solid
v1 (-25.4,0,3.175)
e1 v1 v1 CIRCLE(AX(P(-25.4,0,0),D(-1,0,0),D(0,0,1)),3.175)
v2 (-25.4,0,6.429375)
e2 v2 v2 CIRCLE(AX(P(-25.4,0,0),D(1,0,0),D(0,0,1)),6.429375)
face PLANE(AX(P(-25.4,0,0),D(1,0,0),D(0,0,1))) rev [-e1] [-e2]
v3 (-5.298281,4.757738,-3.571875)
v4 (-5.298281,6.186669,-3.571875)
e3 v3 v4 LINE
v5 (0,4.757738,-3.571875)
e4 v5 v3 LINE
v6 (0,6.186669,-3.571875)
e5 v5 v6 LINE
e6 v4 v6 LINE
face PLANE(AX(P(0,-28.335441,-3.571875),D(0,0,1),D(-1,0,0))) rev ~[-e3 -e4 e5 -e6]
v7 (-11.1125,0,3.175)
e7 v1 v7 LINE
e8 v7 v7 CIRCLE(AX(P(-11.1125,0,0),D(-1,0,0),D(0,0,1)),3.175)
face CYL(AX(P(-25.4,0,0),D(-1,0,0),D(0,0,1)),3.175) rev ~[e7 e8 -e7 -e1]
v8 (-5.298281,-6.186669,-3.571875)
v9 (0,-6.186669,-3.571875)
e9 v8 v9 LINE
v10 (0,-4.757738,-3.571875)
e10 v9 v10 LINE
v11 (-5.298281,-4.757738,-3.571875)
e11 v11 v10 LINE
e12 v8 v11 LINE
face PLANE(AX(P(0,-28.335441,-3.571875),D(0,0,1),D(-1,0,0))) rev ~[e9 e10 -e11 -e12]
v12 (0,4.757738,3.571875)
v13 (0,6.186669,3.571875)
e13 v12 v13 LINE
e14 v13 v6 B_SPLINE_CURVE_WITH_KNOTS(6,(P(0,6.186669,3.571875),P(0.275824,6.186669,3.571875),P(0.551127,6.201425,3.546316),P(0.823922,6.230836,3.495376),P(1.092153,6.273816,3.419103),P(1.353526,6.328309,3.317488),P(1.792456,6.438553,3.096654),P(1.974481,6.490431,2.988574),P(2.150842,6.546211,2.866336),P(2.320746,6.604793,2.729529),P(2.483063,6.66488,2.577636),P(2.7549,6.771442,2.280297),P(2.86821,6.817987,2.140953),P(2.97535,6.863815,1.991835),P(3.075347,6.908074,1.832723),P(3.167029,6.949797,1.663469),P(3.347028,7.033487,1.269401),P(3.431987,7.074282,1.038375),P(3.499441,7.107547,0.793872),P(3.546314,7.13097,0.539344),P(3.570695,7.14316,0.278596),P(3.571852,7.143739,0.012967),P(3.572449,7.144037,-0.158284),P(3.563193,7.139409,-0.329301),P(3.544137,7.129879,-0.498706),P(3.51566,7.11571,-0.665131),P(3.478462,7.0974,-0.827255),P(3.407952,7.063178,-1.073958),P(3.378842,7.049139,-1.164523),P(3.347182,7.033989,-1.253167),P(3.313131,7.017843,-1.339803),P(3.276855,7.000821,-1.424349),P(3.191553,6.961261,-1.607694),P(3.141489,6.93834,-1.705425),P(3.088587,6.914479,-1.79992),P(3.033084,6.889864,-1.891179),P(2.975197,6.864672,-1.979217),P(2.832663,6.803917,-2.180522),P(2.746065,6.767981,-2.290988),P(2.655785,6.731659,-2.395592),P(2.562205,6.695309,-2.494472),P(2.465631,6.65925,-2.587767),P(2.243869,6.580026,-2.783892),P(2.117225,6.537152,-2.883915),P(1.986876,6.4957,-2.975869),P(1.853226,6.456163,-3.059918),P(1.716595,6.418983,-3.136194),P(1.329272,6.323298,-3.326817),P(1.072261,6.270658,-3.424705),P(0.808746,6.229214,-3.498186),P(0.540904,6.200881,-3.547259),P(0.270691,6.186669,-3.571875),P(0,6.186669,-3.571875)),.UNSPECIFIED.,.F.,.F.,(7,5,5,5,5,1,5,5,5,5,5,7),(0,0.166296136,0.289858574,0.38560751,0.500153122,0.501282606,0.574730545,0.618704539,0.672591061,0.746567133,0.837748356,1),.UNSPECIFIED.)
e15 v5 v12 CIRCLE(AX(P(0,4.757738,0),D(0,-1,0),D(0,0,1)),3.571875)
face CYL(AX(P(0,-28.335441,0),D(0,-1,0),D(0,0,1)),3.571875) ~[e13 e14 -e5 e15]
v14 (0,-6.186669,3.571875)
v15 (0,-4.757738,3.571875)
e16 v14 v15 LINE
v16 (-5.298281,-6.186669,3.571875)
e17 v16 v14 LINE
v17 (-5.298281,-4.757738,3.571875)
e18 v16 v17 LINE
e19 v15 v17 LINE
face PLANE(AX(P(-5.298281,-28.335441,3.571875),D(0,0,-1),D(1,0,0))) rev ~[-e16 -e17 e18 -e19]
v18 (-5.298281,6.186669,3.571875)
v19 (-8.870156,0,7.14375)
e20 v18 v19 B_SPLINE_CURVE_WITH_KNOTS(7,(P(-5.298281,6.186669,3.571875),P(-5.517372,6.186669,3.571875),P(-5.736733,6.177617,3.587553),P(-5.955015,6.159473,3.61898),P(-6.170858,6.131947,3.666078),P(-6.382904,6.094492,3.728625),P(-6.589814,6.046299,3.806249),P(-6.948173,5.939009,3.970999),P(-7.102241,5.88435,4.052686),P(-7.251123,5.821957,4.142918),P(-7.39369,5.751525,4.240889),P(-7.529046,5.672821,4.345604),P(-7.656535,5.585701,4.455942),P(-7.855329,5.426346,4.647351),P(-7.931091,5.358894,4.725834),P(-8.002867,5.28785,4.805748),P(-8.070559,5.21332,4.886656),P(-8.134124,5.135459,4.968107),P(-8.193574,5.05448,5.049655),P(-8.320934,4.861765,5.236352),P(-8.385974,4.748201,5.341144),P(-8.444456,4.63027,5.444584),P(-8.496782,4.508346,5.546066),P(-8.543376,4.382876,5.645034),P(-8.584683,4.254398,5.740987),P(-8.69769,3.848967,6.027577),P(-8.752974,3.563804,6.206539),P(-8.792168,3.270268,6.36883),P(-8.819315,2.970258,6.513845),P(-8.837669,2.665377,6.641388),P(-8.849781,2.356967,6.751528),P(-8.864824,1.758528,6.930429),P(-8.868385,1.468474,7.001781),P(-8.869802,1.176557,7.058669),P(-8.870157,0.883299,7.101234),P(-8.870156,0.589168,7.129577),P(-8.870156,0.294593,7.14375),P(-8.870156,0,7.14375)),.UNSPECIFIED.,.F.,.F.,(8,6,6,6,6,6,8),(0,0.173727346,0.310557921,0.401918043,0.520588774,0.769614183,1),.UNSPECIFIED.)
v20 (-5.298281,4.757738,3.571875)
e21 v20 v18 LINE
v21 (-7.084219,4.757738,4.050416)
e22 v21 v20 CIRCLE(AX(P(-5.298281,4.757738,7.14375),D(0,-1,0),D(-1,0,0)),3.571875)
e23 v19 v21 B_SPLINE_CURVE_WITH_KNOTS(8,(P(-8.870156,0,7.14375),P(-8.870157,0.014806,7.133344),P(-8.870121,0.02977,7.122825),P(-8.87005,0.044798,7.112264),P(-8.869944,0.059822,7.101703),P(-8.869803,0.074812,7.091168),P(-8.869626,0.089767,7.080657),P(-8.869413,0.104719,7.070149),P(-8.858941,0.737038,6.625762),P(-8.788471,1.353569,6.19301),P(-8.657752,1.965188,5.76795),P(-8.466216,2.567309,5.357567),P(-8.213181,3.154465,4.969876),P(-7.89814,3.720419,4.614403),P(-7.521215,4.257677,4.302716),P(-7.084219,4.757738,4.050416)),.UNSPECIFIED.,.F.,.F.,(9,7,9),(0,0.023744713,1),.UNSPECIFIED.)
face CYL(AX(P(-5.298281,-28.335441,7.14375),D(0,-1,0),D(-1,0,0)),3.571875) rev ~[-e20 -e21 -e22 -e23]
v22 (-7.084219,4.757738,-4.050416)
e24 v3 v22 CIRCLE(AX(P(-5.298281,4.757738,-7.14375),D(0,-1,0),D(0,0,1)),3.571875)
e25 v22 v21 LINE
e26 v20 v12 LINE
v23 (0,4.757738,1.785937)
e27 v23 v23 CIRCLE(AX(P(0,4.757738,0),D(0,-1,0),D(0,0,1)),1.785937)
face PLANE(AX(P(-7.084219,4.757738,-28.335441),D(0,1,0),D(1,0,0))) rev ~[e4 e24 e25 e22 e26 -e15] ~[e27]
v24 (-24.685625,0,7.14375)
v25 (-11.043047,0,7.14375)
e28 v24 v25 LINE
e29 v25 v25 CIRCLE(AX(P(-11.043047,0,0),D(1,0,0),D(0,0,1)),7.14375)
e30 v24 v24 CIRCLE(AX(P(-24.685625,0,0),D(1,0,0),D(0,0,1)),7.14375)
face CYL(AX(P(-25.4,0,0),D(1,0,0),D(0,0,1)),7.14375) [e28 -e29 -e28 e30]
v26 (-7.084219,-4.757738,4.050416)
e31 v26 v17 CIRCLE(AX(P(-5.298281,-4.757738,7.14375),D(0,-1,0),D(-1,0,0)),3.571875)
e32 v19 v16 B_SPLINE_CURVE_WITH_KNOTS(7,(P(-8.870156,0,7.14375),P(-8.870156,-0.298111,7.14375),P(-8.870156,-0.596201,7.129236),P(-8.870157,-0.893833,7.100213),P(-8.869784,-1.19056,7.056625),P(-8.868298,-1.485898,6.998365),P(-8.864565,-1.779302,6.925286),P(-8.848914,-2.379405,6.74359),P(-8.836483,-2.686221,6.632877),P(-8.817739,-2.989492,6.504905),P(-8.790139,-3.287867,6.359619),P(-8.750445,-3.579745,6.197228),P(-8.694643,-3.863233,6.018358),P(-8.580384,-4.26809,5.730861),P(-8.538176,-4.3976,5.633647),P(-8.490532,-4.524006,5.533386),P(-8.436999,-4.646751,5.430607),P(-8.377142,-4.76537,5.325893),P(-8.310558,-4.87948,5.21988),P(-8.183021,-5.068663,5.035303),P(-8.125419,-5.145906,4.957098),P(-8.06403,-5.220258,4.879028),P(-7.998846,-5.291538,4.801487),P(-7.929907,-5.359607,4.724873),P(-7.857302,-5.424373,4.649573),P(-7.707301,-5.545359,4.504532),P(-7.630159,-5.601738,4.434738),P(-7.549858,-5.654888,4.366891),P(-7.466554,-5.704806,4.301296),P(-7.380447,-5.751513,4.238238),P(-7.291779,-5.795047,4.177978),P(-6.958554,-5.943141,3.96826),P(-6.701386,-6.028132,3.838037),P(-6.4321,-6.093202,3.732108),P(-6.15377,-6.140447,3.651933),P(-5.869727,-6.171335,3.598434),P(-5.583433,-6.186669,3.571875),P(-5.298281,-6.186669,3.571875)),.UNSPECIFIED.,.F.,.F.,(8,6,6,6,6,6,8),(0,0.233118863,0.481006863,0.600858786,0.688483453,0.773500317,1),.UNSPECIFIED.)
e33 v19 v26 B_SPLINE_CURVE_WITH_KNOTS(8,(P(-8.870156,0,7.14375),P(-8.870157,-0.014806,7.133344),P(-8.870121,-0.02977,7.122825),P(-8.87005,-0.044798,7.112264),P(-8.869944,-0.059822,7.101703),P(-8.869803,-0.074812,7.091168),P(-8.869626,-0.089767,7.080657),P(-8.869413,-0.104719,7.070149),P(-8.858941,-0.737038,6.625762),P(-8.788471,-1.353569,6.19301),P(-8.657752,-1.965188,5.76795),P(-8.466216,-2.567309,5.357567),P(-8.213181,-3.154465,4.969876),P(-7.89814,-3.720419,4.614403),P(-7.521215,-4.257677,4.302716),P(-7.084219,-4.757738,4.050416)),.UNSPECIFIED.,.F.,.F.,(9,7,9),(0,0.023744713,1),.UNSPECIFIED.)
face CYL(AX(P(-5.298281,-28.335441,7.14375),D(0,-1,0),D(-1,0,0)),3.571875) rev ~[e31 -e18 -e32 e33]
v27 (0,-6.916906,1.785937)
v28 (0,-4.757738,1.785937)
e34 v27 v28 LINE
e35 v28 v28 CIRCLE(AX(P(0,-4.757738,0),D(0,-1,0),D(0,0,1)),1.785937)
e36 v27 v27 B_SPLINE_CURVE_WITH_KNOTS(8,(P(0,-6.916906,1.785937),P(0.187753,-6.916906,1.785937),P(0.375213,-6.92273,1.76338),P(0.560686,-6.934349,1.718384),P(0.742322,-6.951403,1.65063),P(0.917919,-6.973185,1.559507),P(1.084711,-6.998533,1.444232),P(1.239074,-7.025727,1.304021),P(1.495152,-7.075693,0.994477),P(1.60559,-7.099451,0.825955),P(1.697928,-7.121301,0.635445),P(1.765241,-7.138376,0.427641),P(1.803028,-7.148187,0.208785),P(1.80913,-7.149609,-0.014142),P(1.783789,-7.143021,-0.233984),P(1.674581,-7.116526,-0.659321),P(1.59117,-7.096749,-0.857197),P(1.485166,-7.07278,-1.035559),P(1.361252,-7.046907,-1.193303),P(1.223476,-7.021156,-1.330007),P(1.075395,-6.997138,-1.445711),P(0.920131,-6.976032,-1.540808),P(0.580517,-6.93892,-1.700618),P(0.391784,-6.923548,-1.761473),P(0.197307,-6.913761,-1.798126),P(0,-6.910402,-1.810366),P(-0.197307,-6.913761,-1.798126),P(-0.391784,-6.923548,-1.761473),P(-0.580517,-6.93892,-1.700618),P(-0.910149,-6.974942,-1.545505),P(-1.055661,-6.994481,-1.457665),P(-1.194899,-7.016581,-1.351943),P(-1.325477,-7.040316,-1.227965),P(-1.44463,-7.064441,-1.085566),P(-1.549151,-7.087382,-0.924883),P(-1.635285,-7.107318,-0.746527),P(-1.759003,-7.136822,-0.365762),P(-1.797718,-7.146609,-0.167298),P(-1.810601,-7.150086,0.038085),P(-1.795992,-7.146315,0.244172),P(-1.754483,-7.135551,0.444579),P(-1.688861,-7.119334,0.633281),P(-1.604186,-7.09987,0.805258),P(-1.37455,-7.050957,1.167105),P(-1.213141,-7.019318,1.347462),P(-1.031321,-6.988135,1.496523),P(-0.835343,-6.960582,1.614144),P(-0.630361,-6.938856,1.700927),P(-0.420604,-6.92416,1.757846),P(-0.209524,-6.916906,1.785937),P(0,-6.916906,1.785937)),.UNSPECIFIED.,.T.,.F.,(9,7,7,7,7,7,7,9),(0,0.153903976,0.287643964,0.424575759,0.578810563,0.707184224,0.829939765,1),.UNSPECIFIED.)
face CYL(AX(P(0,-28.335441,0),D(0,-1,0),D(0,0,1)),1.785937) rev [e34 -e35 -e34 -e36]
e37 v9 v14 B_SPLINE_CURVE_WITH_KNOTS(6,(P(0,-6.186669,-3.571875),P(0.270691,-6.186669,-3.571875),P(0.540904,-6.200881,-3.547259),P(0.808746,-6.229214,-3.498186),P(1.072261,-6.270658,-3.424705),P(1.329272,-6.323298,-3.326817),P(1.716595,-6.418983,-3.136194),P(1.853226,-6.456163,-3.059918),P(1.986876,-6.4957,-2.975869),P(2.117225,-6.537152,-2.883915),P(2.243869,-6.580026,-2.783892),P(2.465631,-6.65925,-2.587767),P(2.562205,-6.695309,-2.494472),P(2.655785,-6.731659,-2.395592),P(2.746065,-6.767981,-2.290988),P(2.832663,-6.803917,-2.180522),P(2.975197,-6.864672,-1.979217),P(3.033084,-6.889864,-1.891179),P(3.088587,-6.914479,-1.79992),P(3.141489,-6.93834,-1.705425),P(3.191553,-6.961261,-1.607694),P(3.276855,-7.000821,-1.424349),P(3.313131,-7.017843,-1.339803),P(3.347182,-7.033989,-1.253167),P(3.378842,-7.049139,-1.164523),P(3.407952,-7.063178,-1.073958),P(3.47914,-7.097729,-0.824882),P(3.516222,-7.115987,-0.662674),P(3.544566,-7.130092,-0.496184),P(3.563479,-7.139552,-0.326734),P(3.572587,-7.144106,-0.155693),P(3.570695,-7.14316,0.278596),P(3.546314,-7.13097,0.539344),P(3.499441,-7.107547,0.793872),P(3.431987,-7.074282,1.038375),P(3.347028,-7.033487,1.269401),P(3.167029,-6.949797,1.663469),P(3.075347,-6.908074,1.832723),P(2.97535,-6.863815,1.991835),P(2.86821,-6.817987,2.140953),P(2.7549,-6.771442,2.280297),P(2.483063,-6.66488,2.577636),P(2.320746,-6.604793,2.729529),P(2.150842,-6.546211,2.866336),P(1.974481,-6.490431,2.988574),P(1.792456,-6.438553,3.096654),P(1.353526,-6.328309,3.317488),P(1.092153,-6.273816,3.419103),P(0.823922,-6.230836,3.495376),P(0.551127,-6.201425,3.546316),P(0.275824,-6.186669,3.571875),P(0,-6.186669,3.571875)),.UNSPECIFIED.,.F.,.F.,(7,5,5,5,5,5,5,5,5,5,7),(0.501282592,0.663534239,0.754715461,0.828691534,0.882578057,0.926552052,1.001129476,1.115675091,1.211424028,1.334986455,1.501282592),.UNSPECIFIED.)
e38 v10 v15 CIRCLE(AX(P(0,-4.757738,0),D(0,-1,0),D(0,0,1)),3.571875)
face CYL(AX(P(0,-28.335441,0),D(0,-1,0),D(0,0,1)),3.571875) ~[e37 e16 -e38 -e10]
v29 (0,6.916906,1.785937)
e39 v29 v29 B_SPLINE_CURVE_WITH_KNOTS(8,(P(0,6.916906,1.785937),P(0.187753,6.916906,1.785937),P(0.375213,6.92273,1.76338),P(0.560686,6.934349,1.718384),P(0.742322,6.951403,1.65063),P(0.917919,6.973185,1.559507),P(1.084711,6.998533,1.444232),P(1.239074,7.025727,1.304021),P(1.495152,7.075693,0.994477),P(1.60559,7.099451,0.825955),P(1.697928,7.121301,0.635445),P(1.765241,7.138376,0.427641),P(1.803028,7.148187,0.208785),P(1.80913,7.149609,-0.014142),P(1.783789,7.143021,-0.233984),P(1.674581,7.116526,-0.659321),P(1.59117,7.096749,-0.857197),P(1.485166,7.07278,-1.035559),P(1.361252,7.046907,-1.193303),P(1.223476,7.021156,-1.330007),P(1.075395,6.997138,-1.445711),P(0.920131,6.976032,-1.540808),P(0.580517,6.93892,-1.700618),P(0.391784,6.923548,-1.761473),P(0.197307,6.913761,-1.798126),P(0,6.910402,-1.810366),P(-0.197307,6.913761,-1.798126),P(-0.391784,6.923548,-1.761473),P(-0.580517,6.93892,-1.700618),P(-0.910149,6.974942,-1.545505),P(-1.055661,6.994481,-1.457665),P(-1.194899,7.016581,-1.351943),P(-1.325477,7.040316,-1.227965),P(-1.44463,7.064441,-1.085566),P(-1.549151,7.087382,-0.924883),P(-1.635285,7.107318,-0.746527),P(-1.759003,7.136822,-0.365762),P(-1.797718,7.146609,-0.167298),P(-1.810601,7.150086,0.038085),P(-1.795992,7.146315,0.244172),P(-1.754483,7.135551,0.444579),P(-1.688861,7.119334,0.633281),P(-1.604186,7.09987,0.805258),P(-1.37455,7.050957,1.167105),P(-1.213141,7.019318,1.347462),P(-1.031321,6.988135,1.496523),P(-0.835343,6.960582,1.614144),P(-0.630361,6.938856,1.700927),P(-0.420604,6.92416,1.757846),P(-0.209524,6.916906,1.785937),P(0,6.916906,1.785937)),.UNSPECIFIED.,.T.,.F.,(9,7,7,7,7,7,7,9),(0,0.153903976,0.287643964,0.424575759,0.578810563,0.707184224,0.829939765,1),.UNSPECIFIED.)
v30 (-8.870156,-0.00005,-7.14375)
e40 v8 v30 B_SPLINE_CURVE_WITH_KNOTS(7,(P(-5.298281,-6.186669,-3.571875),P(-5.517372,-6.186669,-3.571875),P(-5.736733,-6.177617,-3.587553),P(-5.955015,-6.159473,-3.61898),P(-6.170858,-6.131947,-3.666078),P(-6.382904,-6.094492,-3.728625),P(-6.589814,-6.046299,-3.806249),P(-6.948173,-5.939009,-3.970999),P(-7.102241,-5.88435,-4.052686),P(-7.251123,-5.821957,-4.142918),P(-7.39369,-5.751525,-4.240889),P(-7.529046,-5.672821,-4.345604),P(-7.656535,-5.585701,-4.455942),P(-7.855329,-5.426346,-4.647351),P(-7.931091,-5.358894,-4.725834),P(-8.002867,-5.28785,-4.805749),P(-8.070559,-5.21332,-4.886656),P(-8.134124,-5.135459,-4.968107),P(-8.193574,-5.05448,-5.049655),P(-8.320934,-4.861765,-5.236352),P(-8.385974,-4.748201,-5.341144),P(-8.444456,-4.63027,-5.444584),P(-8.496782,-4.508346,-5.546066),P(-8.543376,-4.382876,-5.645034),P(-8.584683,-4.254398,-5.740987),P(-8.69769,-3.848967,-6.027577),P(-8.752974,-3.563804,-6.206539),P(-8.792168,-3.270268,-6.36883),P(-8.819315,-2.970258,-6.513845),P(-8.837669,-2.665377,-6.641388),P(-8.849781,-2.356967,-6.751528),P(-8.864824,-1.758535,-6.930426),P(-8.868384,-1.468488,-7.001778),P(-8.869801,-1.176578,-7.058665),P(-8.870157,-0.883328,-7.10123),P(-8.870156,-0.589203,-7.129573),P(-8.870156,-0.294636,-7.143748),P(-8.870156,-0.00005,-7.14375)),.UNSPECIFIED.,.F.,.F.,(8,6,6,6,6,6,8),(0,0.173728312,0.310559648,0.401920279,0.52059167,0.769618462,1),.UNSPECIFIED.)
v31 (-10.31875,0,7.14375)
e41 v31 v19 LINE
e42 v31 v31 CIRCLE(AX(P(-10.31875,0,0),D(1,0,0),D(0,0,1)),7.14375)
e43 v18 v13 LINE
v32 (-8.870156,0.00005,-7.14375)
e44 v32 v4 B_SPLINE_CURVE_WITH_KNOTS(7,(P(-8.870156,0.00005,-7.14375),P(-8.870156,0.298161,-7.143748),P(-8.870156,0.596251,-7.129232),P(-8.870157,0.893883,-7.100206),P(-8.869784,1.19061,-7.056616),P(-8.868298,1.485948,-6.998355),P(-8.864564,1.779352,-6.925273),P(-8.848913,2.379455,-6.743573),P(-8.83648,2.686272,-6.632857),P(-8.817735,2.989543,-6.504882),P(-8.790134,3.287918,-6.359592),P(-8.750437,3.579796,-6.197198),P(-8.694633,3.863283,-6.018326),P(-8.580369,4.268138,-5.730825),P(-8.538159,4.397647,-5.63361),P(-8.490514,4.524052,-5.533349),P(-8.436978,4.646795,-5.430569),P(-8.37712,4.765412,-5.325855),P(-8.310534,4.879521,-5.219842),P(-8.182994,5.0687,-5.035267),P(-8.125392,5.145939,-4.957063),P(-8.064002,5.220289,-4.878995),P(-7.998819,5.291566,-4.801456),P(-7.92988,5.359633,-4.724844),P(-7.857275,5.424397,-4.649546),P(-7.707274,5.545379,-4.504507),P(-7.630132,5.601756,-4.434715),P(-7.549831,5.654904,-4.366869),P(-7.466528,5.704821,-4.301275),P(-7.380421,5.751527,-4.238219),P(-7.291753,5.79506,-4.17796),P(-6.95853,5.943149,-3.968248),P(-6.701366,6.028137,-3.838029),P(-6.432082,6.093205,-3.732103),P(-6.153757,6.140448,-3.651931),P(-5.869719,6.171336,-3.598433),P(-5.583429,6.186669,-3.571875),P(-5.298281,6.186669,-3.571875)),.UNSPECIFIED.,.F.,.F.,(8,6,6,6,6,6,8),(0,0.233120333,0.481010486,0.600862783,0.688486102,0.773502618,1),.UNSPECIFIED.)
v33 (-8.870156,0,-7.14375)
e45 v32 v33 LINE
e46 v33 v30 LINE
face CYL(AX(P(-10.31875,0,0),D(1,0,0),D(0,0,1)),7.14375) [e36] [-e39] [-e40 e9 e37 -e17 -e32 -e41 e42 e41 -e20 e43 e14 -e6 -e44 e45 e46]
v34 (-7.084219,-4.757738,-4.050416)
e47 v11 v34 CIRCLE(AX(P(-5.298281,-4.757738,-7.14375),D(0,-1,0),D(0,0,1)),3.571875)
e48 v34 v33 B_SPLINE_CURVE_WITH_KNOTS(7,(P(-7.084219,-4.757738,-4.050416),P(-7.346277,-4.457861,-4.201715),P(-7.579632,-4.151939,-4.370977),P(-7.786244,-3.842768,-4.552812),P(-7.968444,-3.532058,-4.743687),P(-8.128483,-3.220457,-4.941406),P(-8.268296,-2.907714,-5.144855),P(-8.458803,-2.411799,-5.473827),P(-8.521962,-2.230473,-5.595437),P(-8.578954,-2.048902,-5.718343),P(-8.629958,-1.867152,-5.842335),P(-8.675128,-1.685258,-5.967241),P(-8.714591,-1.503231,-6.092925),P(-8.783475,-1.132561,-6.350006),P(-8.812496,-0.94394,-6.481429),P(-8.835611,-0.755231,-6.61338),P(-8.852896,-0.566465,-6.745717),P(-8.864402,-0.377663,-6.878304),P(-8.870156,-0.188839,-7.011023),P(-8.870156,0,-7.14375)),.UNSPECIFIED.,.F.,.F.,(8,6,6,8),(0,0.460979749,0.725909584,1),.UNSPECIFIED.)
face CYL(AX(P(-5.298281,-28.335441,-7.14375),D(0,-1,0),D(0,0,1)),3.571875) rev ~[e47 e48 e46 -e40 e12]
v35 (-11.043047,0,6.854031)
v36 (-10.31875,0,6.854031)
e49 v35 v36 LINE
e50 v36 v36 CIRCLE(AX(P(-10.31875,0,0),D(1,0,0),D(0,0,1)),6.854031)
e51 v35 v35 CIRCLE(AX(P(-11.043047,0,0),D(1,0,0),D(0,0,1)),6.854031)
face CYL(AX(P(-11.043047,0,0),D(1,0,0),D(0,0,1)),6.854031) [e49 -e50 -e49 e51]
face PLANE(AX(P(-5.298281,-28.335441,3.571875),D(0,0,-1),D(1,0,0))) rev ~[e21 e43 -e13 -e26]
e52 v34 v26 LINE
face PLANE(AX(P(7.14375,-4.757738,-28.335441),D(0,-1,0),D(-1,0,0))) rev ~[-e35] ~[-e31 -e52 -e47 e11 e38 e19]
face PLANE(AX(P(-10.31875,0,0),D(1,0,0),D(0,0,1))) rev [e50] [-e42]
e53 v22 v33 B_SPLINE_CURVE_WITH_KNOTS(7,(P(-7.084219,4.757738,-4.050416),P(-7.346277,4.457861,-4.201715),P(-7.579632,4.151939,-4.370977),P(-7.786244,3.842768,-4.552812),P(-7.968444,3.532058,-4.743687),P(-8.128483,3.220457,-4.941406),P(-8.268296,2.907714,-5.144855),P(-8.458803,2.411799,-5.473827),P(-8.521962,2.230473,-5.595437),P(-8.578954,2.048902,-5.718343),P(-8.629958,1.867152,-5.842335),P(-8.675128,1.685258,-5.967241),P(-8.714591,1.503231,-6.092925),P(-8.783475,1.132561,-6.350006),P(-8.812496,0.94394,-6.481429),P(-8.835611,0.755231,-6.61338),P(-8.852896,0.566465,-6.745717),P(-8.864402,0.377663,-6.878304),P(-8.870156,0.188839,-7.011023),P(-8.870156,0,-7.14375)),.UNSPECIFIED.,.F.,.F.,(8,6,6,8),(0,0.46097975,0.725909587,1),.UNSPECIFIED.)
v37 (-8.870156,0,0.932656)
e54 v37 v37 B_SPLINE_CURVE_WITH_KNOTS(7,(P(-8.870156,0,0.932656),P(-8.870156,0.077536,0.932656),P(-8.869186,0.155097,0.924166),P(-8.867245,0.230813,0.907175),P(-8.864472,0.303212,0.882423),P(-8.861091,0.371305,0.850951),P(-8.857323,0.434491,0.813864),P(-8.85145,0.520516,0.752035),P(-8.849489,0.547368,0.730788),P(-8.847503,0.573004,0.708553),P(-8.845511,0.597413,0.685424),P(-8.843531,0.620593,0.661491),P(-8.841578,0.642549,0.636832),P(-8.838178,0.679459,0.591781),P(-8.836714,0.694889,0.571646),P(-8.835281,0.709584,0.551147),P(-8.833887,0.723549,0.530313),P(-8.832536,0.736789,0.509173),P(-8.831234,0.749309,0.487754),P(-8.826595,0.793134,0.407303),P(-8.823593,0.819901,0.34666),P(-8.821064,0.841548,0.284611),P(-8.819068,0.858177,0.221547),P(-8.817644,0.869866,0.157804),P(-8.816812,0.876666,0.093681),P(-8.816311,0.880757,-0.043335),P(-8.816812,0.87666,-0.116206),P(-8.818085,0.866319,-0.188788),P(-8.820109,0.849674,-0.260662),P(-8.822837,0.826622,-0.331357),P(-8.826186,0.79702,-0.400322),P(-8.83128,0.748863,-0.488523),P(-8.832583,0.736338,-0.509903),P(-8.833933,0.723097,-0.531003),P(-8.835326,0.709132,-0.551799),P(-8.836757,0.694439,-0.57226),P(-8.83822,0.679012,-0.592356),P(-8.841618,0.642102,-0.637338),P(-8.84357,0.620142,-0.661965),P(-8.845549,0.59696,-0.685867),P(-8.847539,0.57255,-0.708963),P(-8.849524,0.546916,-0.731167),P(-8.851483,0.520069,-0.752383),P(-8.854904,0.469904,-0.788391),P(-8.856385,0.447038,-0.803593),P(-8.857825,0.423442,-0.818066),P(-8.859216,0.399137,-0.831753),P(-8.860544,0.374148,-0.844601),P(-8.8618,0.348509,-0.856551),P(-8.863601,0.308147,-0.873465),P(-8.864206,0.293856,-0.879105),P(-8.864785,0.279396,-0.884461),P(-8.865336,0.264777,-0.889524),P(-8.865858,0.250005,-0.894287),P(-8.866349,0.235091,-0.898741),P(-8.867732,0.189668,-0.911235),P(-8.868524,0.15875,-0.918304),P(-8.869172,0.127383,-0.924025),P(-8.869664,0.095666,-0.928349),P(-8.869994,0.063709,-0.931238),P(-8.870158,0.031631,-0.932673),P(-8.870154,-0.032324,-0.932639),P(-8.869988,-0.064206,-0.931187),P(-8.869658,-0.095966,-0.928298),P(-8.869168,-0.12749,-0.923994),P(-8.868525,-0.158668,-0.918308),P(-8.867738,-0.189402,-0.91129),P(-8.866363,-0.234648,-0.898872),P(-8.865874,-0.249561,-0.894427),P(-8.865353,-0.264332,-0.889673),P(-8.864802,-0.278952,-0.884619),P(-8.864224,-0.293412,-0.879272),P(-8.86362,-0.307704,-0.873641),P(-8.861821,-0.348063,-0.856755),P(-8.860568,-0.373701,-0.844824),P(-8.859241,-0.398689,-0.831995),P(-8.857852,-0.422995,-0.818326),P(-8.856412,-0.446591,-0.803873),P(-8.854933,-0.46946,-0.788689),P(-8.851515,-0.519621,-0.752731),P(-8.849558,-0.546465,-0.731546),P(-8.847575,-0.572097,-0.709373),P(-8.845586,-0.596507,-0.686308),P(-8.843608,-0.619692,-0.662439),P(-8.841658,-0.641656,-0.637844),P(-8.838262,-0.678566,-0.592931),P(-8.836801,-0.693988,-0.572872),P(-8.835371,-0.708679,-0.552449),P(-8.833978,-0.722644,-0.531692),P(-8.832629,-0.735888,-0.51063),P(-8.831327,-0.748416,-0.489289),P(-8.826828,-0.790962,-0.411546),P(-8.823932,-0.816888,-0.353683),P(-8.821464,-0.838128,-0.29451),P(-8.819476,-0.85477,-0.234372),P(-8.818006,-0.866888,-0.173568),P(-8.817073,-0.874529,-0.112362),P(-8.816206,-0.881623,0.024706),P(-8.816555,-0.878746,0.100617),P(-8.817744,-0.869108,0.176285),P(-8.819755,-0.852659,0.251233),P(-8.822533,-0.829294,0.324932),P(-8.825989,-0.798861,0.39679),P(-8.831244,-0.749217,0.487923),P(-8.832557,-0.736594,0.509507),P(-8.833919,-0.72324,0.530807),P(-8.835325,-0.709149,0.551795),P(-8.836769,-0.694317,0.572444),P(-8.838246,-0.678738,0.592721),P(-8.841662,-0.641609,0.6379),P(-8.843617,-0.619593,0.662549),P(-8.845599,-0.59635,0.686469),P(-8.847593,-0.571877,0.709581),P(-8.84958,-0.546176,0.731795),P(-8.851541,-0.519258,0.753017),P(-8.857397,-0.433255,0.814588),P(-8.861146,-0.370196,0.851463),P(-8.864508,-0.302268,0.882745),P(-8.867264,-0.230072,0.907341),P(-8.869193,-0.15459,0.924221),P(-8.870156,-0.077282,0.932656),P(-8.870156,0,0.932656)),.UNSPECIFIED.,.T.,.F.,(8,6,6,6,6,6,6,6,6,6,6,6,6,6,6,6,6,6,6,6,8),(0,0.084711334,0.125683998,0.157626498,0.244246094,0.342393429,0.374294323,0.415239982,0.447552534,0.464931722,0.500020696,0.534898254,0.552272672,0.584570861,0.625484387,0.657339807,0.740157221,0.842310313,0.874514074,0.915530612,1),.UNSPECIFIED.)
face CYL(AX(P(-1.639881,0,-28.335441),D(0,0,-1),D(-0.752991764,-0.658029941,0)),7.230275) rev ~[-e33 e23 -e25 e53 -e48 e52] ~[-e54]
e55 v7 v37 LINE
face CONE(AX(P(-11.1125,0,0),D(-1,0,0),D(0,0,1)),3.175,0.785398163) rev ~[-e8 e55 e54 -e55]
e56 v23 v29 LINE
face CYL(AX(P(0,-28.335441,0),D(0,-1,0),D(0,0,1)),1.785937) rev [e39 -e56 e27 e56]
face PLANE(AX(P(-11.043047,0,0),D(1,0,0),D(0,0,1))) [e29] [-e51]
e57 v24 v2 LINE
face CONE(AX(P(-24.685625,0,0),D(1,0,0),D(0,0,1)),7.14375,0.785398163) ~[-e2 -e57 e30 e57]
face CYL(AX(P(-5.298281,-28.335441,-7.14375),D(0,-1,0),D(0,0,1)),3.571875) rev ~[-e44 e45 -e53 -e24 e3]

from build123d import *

# Parameters (mm, degrees)
CHAMFER1_SIZE       = 0.714375
EXTRUDE1_DEPTH      = 28.33544088
EXTRUDE1_DEPTH_BACK = 28.33544088
EXTRUDE3_DEPTH      = 28.335440933
EXTRUDE3_DEPTH_BACK = 28.335440933
SKETCH4_R           = 3.175
EXTRUDE4_DEPTH      = 14.2875
EXTRUDE6_DEPTH      = 28.335440933
EXTRUDE6_DEPTH_BACK = 28.335440933
SKETCH6_R           = 1.7859375


with BuildPart() as part:
    # Sketch1 → Revolve1 (revolve)
    with BuildSketch(Plane(origin=(0, 0, 0), x_dir=(1, 0, 0), z_dir=(0, 1, 0)), mode=Mode.PRIVATE) as revolve1_sk:
        Polygon((-25.4, 7.14375), (-11.043046875, 7.14375), (-11.043046875, 6.85403125), (-10.31875, 6.85403125), (-10.31875, 7.14375), (3.571875, 7.14375), (3.571875, 0), (-25.4, 0), align=None)
    revolve(revolve1_sk.sketch.rotate(Axis((-25.4, 0, 0), (1, 0, 0)), 180), axis=Axis((-25.4, 0, 0), (1, 0, 0)))

    # Chamfer1
    chamfer1_edges = [part.edges().sort_by_distance(p)[0] for p in [
        (-25.4, 0, -7.14375),
    ]]
    chamfer(chamfer1_edges, length=CHAMFER1_SIZE)

    # Sketch2 → Extrude1 (cut, two sides: drawn at the far end of the back side and taken through both)
    with BuildSketch(Plane(origin=(0, 0, 0), x_dir=(1, 0, 0), z_dir=(0, 1, 0)).offset(-EXTRUDE1_DEPTH_BACK)):
        with BuildLine():
            Line((-8.87015625, 7.14375), (7.14375, 7.14375))
            Line((7.14375, 7.14375), (7.14375, -7.14375))
            Line((7.14375, -7.14375), (-8.87015625, -7.14375))
            ThreePointArc((-8.87015625, -7.14375), (-7.823978284, -4.618052966), (-5.29828125, -3.571875))
            Line((-5.29828125, -3.571875), (0, -3.571875))
            ThreePointArc((0, -3.571875), (3.571875, 0), (0, 3.571875))
            Line((0, 3.571875), (-5.29828125, 3.571875))
            ThreePointArc((-5.29828125, 3.571875), (-7.823978284, 4.618052966), (-8.87015625, 7.14375))
        make_face()
    extrude(amount=EXTRUDE1_DEPTH + EXTRUDE1_DEPTH_BACK, mode=Mode.SUBTRACT)

    # Sketch3 → Extrude3 (cut, two sides: drawn at the far end of the back side and taken through both)
    with BuildSketch(Plane.XY.offset(-EXTRUDE3_DEPTH_BACK)):
        with BuildLine():
            Line((-7.08421875, 4.7577375), (7.14375, 4.7577375))
            Line((7.14375, 4.7577375), (7.14375, -4.7577375))
            Line((7.14375, -4.7577375), (-7.08421875, -4.7577375))
            ThreePointArc((-7.08421875, -4.7577375), (-8.87015625, 0), (-7.08421875, 4.7577375))
        make_face()
    extrude(amount=EXTRUDE3_DEPTH + EXTRUDE3_DEPTH_BACK, mode=Mode.SUBTRACT)

    # Sketch4 → Extrude4 (cut)
    with BuildSketch(Plane.ZY.offset(25.4)):
        Circle(SKETCH4_R)
    extrude(amount=-EXTRUDE4_DEPTH, mode=Mode.SUBTRACT)

    # Extrude5 cone 1 section (through the dimple's axis) → Extrude5 (revolve, cut)
    with BuildSketch(Plane(origin=(-11.1125, 0, 0), x_dir=(0, 0, 1), z_dir=(0, 1, 0))):
        Polygon((0, 0), (3.175, 0), (0, 3.175), align=None)
    revolve(axis=Axis((-11.1125, 0, 0), (1, 0, 0)), mode=Mode.SUBTRACT)

    # Sketch6 → Extrude6 (cut, two sides: drawn at the far end of the back side and taken through both)
    with BuildSketch(Plane(origin=(0, 0, 0), x_dir=(1, 0, 0), z_dir=(0, 1, 0)).offset(-EXTRUDE6_DEPTH_BACK)):
        with Locations(Location((0, 0, 0), (0, 0, 270))):
            Circle(SKETCH6_R)
    extrude(amount=EXTRUDE6_DEPTH + EXTRUDE6_DEPTH_BACK, mode=Mode.SUBTRACT)


solid = part.part
